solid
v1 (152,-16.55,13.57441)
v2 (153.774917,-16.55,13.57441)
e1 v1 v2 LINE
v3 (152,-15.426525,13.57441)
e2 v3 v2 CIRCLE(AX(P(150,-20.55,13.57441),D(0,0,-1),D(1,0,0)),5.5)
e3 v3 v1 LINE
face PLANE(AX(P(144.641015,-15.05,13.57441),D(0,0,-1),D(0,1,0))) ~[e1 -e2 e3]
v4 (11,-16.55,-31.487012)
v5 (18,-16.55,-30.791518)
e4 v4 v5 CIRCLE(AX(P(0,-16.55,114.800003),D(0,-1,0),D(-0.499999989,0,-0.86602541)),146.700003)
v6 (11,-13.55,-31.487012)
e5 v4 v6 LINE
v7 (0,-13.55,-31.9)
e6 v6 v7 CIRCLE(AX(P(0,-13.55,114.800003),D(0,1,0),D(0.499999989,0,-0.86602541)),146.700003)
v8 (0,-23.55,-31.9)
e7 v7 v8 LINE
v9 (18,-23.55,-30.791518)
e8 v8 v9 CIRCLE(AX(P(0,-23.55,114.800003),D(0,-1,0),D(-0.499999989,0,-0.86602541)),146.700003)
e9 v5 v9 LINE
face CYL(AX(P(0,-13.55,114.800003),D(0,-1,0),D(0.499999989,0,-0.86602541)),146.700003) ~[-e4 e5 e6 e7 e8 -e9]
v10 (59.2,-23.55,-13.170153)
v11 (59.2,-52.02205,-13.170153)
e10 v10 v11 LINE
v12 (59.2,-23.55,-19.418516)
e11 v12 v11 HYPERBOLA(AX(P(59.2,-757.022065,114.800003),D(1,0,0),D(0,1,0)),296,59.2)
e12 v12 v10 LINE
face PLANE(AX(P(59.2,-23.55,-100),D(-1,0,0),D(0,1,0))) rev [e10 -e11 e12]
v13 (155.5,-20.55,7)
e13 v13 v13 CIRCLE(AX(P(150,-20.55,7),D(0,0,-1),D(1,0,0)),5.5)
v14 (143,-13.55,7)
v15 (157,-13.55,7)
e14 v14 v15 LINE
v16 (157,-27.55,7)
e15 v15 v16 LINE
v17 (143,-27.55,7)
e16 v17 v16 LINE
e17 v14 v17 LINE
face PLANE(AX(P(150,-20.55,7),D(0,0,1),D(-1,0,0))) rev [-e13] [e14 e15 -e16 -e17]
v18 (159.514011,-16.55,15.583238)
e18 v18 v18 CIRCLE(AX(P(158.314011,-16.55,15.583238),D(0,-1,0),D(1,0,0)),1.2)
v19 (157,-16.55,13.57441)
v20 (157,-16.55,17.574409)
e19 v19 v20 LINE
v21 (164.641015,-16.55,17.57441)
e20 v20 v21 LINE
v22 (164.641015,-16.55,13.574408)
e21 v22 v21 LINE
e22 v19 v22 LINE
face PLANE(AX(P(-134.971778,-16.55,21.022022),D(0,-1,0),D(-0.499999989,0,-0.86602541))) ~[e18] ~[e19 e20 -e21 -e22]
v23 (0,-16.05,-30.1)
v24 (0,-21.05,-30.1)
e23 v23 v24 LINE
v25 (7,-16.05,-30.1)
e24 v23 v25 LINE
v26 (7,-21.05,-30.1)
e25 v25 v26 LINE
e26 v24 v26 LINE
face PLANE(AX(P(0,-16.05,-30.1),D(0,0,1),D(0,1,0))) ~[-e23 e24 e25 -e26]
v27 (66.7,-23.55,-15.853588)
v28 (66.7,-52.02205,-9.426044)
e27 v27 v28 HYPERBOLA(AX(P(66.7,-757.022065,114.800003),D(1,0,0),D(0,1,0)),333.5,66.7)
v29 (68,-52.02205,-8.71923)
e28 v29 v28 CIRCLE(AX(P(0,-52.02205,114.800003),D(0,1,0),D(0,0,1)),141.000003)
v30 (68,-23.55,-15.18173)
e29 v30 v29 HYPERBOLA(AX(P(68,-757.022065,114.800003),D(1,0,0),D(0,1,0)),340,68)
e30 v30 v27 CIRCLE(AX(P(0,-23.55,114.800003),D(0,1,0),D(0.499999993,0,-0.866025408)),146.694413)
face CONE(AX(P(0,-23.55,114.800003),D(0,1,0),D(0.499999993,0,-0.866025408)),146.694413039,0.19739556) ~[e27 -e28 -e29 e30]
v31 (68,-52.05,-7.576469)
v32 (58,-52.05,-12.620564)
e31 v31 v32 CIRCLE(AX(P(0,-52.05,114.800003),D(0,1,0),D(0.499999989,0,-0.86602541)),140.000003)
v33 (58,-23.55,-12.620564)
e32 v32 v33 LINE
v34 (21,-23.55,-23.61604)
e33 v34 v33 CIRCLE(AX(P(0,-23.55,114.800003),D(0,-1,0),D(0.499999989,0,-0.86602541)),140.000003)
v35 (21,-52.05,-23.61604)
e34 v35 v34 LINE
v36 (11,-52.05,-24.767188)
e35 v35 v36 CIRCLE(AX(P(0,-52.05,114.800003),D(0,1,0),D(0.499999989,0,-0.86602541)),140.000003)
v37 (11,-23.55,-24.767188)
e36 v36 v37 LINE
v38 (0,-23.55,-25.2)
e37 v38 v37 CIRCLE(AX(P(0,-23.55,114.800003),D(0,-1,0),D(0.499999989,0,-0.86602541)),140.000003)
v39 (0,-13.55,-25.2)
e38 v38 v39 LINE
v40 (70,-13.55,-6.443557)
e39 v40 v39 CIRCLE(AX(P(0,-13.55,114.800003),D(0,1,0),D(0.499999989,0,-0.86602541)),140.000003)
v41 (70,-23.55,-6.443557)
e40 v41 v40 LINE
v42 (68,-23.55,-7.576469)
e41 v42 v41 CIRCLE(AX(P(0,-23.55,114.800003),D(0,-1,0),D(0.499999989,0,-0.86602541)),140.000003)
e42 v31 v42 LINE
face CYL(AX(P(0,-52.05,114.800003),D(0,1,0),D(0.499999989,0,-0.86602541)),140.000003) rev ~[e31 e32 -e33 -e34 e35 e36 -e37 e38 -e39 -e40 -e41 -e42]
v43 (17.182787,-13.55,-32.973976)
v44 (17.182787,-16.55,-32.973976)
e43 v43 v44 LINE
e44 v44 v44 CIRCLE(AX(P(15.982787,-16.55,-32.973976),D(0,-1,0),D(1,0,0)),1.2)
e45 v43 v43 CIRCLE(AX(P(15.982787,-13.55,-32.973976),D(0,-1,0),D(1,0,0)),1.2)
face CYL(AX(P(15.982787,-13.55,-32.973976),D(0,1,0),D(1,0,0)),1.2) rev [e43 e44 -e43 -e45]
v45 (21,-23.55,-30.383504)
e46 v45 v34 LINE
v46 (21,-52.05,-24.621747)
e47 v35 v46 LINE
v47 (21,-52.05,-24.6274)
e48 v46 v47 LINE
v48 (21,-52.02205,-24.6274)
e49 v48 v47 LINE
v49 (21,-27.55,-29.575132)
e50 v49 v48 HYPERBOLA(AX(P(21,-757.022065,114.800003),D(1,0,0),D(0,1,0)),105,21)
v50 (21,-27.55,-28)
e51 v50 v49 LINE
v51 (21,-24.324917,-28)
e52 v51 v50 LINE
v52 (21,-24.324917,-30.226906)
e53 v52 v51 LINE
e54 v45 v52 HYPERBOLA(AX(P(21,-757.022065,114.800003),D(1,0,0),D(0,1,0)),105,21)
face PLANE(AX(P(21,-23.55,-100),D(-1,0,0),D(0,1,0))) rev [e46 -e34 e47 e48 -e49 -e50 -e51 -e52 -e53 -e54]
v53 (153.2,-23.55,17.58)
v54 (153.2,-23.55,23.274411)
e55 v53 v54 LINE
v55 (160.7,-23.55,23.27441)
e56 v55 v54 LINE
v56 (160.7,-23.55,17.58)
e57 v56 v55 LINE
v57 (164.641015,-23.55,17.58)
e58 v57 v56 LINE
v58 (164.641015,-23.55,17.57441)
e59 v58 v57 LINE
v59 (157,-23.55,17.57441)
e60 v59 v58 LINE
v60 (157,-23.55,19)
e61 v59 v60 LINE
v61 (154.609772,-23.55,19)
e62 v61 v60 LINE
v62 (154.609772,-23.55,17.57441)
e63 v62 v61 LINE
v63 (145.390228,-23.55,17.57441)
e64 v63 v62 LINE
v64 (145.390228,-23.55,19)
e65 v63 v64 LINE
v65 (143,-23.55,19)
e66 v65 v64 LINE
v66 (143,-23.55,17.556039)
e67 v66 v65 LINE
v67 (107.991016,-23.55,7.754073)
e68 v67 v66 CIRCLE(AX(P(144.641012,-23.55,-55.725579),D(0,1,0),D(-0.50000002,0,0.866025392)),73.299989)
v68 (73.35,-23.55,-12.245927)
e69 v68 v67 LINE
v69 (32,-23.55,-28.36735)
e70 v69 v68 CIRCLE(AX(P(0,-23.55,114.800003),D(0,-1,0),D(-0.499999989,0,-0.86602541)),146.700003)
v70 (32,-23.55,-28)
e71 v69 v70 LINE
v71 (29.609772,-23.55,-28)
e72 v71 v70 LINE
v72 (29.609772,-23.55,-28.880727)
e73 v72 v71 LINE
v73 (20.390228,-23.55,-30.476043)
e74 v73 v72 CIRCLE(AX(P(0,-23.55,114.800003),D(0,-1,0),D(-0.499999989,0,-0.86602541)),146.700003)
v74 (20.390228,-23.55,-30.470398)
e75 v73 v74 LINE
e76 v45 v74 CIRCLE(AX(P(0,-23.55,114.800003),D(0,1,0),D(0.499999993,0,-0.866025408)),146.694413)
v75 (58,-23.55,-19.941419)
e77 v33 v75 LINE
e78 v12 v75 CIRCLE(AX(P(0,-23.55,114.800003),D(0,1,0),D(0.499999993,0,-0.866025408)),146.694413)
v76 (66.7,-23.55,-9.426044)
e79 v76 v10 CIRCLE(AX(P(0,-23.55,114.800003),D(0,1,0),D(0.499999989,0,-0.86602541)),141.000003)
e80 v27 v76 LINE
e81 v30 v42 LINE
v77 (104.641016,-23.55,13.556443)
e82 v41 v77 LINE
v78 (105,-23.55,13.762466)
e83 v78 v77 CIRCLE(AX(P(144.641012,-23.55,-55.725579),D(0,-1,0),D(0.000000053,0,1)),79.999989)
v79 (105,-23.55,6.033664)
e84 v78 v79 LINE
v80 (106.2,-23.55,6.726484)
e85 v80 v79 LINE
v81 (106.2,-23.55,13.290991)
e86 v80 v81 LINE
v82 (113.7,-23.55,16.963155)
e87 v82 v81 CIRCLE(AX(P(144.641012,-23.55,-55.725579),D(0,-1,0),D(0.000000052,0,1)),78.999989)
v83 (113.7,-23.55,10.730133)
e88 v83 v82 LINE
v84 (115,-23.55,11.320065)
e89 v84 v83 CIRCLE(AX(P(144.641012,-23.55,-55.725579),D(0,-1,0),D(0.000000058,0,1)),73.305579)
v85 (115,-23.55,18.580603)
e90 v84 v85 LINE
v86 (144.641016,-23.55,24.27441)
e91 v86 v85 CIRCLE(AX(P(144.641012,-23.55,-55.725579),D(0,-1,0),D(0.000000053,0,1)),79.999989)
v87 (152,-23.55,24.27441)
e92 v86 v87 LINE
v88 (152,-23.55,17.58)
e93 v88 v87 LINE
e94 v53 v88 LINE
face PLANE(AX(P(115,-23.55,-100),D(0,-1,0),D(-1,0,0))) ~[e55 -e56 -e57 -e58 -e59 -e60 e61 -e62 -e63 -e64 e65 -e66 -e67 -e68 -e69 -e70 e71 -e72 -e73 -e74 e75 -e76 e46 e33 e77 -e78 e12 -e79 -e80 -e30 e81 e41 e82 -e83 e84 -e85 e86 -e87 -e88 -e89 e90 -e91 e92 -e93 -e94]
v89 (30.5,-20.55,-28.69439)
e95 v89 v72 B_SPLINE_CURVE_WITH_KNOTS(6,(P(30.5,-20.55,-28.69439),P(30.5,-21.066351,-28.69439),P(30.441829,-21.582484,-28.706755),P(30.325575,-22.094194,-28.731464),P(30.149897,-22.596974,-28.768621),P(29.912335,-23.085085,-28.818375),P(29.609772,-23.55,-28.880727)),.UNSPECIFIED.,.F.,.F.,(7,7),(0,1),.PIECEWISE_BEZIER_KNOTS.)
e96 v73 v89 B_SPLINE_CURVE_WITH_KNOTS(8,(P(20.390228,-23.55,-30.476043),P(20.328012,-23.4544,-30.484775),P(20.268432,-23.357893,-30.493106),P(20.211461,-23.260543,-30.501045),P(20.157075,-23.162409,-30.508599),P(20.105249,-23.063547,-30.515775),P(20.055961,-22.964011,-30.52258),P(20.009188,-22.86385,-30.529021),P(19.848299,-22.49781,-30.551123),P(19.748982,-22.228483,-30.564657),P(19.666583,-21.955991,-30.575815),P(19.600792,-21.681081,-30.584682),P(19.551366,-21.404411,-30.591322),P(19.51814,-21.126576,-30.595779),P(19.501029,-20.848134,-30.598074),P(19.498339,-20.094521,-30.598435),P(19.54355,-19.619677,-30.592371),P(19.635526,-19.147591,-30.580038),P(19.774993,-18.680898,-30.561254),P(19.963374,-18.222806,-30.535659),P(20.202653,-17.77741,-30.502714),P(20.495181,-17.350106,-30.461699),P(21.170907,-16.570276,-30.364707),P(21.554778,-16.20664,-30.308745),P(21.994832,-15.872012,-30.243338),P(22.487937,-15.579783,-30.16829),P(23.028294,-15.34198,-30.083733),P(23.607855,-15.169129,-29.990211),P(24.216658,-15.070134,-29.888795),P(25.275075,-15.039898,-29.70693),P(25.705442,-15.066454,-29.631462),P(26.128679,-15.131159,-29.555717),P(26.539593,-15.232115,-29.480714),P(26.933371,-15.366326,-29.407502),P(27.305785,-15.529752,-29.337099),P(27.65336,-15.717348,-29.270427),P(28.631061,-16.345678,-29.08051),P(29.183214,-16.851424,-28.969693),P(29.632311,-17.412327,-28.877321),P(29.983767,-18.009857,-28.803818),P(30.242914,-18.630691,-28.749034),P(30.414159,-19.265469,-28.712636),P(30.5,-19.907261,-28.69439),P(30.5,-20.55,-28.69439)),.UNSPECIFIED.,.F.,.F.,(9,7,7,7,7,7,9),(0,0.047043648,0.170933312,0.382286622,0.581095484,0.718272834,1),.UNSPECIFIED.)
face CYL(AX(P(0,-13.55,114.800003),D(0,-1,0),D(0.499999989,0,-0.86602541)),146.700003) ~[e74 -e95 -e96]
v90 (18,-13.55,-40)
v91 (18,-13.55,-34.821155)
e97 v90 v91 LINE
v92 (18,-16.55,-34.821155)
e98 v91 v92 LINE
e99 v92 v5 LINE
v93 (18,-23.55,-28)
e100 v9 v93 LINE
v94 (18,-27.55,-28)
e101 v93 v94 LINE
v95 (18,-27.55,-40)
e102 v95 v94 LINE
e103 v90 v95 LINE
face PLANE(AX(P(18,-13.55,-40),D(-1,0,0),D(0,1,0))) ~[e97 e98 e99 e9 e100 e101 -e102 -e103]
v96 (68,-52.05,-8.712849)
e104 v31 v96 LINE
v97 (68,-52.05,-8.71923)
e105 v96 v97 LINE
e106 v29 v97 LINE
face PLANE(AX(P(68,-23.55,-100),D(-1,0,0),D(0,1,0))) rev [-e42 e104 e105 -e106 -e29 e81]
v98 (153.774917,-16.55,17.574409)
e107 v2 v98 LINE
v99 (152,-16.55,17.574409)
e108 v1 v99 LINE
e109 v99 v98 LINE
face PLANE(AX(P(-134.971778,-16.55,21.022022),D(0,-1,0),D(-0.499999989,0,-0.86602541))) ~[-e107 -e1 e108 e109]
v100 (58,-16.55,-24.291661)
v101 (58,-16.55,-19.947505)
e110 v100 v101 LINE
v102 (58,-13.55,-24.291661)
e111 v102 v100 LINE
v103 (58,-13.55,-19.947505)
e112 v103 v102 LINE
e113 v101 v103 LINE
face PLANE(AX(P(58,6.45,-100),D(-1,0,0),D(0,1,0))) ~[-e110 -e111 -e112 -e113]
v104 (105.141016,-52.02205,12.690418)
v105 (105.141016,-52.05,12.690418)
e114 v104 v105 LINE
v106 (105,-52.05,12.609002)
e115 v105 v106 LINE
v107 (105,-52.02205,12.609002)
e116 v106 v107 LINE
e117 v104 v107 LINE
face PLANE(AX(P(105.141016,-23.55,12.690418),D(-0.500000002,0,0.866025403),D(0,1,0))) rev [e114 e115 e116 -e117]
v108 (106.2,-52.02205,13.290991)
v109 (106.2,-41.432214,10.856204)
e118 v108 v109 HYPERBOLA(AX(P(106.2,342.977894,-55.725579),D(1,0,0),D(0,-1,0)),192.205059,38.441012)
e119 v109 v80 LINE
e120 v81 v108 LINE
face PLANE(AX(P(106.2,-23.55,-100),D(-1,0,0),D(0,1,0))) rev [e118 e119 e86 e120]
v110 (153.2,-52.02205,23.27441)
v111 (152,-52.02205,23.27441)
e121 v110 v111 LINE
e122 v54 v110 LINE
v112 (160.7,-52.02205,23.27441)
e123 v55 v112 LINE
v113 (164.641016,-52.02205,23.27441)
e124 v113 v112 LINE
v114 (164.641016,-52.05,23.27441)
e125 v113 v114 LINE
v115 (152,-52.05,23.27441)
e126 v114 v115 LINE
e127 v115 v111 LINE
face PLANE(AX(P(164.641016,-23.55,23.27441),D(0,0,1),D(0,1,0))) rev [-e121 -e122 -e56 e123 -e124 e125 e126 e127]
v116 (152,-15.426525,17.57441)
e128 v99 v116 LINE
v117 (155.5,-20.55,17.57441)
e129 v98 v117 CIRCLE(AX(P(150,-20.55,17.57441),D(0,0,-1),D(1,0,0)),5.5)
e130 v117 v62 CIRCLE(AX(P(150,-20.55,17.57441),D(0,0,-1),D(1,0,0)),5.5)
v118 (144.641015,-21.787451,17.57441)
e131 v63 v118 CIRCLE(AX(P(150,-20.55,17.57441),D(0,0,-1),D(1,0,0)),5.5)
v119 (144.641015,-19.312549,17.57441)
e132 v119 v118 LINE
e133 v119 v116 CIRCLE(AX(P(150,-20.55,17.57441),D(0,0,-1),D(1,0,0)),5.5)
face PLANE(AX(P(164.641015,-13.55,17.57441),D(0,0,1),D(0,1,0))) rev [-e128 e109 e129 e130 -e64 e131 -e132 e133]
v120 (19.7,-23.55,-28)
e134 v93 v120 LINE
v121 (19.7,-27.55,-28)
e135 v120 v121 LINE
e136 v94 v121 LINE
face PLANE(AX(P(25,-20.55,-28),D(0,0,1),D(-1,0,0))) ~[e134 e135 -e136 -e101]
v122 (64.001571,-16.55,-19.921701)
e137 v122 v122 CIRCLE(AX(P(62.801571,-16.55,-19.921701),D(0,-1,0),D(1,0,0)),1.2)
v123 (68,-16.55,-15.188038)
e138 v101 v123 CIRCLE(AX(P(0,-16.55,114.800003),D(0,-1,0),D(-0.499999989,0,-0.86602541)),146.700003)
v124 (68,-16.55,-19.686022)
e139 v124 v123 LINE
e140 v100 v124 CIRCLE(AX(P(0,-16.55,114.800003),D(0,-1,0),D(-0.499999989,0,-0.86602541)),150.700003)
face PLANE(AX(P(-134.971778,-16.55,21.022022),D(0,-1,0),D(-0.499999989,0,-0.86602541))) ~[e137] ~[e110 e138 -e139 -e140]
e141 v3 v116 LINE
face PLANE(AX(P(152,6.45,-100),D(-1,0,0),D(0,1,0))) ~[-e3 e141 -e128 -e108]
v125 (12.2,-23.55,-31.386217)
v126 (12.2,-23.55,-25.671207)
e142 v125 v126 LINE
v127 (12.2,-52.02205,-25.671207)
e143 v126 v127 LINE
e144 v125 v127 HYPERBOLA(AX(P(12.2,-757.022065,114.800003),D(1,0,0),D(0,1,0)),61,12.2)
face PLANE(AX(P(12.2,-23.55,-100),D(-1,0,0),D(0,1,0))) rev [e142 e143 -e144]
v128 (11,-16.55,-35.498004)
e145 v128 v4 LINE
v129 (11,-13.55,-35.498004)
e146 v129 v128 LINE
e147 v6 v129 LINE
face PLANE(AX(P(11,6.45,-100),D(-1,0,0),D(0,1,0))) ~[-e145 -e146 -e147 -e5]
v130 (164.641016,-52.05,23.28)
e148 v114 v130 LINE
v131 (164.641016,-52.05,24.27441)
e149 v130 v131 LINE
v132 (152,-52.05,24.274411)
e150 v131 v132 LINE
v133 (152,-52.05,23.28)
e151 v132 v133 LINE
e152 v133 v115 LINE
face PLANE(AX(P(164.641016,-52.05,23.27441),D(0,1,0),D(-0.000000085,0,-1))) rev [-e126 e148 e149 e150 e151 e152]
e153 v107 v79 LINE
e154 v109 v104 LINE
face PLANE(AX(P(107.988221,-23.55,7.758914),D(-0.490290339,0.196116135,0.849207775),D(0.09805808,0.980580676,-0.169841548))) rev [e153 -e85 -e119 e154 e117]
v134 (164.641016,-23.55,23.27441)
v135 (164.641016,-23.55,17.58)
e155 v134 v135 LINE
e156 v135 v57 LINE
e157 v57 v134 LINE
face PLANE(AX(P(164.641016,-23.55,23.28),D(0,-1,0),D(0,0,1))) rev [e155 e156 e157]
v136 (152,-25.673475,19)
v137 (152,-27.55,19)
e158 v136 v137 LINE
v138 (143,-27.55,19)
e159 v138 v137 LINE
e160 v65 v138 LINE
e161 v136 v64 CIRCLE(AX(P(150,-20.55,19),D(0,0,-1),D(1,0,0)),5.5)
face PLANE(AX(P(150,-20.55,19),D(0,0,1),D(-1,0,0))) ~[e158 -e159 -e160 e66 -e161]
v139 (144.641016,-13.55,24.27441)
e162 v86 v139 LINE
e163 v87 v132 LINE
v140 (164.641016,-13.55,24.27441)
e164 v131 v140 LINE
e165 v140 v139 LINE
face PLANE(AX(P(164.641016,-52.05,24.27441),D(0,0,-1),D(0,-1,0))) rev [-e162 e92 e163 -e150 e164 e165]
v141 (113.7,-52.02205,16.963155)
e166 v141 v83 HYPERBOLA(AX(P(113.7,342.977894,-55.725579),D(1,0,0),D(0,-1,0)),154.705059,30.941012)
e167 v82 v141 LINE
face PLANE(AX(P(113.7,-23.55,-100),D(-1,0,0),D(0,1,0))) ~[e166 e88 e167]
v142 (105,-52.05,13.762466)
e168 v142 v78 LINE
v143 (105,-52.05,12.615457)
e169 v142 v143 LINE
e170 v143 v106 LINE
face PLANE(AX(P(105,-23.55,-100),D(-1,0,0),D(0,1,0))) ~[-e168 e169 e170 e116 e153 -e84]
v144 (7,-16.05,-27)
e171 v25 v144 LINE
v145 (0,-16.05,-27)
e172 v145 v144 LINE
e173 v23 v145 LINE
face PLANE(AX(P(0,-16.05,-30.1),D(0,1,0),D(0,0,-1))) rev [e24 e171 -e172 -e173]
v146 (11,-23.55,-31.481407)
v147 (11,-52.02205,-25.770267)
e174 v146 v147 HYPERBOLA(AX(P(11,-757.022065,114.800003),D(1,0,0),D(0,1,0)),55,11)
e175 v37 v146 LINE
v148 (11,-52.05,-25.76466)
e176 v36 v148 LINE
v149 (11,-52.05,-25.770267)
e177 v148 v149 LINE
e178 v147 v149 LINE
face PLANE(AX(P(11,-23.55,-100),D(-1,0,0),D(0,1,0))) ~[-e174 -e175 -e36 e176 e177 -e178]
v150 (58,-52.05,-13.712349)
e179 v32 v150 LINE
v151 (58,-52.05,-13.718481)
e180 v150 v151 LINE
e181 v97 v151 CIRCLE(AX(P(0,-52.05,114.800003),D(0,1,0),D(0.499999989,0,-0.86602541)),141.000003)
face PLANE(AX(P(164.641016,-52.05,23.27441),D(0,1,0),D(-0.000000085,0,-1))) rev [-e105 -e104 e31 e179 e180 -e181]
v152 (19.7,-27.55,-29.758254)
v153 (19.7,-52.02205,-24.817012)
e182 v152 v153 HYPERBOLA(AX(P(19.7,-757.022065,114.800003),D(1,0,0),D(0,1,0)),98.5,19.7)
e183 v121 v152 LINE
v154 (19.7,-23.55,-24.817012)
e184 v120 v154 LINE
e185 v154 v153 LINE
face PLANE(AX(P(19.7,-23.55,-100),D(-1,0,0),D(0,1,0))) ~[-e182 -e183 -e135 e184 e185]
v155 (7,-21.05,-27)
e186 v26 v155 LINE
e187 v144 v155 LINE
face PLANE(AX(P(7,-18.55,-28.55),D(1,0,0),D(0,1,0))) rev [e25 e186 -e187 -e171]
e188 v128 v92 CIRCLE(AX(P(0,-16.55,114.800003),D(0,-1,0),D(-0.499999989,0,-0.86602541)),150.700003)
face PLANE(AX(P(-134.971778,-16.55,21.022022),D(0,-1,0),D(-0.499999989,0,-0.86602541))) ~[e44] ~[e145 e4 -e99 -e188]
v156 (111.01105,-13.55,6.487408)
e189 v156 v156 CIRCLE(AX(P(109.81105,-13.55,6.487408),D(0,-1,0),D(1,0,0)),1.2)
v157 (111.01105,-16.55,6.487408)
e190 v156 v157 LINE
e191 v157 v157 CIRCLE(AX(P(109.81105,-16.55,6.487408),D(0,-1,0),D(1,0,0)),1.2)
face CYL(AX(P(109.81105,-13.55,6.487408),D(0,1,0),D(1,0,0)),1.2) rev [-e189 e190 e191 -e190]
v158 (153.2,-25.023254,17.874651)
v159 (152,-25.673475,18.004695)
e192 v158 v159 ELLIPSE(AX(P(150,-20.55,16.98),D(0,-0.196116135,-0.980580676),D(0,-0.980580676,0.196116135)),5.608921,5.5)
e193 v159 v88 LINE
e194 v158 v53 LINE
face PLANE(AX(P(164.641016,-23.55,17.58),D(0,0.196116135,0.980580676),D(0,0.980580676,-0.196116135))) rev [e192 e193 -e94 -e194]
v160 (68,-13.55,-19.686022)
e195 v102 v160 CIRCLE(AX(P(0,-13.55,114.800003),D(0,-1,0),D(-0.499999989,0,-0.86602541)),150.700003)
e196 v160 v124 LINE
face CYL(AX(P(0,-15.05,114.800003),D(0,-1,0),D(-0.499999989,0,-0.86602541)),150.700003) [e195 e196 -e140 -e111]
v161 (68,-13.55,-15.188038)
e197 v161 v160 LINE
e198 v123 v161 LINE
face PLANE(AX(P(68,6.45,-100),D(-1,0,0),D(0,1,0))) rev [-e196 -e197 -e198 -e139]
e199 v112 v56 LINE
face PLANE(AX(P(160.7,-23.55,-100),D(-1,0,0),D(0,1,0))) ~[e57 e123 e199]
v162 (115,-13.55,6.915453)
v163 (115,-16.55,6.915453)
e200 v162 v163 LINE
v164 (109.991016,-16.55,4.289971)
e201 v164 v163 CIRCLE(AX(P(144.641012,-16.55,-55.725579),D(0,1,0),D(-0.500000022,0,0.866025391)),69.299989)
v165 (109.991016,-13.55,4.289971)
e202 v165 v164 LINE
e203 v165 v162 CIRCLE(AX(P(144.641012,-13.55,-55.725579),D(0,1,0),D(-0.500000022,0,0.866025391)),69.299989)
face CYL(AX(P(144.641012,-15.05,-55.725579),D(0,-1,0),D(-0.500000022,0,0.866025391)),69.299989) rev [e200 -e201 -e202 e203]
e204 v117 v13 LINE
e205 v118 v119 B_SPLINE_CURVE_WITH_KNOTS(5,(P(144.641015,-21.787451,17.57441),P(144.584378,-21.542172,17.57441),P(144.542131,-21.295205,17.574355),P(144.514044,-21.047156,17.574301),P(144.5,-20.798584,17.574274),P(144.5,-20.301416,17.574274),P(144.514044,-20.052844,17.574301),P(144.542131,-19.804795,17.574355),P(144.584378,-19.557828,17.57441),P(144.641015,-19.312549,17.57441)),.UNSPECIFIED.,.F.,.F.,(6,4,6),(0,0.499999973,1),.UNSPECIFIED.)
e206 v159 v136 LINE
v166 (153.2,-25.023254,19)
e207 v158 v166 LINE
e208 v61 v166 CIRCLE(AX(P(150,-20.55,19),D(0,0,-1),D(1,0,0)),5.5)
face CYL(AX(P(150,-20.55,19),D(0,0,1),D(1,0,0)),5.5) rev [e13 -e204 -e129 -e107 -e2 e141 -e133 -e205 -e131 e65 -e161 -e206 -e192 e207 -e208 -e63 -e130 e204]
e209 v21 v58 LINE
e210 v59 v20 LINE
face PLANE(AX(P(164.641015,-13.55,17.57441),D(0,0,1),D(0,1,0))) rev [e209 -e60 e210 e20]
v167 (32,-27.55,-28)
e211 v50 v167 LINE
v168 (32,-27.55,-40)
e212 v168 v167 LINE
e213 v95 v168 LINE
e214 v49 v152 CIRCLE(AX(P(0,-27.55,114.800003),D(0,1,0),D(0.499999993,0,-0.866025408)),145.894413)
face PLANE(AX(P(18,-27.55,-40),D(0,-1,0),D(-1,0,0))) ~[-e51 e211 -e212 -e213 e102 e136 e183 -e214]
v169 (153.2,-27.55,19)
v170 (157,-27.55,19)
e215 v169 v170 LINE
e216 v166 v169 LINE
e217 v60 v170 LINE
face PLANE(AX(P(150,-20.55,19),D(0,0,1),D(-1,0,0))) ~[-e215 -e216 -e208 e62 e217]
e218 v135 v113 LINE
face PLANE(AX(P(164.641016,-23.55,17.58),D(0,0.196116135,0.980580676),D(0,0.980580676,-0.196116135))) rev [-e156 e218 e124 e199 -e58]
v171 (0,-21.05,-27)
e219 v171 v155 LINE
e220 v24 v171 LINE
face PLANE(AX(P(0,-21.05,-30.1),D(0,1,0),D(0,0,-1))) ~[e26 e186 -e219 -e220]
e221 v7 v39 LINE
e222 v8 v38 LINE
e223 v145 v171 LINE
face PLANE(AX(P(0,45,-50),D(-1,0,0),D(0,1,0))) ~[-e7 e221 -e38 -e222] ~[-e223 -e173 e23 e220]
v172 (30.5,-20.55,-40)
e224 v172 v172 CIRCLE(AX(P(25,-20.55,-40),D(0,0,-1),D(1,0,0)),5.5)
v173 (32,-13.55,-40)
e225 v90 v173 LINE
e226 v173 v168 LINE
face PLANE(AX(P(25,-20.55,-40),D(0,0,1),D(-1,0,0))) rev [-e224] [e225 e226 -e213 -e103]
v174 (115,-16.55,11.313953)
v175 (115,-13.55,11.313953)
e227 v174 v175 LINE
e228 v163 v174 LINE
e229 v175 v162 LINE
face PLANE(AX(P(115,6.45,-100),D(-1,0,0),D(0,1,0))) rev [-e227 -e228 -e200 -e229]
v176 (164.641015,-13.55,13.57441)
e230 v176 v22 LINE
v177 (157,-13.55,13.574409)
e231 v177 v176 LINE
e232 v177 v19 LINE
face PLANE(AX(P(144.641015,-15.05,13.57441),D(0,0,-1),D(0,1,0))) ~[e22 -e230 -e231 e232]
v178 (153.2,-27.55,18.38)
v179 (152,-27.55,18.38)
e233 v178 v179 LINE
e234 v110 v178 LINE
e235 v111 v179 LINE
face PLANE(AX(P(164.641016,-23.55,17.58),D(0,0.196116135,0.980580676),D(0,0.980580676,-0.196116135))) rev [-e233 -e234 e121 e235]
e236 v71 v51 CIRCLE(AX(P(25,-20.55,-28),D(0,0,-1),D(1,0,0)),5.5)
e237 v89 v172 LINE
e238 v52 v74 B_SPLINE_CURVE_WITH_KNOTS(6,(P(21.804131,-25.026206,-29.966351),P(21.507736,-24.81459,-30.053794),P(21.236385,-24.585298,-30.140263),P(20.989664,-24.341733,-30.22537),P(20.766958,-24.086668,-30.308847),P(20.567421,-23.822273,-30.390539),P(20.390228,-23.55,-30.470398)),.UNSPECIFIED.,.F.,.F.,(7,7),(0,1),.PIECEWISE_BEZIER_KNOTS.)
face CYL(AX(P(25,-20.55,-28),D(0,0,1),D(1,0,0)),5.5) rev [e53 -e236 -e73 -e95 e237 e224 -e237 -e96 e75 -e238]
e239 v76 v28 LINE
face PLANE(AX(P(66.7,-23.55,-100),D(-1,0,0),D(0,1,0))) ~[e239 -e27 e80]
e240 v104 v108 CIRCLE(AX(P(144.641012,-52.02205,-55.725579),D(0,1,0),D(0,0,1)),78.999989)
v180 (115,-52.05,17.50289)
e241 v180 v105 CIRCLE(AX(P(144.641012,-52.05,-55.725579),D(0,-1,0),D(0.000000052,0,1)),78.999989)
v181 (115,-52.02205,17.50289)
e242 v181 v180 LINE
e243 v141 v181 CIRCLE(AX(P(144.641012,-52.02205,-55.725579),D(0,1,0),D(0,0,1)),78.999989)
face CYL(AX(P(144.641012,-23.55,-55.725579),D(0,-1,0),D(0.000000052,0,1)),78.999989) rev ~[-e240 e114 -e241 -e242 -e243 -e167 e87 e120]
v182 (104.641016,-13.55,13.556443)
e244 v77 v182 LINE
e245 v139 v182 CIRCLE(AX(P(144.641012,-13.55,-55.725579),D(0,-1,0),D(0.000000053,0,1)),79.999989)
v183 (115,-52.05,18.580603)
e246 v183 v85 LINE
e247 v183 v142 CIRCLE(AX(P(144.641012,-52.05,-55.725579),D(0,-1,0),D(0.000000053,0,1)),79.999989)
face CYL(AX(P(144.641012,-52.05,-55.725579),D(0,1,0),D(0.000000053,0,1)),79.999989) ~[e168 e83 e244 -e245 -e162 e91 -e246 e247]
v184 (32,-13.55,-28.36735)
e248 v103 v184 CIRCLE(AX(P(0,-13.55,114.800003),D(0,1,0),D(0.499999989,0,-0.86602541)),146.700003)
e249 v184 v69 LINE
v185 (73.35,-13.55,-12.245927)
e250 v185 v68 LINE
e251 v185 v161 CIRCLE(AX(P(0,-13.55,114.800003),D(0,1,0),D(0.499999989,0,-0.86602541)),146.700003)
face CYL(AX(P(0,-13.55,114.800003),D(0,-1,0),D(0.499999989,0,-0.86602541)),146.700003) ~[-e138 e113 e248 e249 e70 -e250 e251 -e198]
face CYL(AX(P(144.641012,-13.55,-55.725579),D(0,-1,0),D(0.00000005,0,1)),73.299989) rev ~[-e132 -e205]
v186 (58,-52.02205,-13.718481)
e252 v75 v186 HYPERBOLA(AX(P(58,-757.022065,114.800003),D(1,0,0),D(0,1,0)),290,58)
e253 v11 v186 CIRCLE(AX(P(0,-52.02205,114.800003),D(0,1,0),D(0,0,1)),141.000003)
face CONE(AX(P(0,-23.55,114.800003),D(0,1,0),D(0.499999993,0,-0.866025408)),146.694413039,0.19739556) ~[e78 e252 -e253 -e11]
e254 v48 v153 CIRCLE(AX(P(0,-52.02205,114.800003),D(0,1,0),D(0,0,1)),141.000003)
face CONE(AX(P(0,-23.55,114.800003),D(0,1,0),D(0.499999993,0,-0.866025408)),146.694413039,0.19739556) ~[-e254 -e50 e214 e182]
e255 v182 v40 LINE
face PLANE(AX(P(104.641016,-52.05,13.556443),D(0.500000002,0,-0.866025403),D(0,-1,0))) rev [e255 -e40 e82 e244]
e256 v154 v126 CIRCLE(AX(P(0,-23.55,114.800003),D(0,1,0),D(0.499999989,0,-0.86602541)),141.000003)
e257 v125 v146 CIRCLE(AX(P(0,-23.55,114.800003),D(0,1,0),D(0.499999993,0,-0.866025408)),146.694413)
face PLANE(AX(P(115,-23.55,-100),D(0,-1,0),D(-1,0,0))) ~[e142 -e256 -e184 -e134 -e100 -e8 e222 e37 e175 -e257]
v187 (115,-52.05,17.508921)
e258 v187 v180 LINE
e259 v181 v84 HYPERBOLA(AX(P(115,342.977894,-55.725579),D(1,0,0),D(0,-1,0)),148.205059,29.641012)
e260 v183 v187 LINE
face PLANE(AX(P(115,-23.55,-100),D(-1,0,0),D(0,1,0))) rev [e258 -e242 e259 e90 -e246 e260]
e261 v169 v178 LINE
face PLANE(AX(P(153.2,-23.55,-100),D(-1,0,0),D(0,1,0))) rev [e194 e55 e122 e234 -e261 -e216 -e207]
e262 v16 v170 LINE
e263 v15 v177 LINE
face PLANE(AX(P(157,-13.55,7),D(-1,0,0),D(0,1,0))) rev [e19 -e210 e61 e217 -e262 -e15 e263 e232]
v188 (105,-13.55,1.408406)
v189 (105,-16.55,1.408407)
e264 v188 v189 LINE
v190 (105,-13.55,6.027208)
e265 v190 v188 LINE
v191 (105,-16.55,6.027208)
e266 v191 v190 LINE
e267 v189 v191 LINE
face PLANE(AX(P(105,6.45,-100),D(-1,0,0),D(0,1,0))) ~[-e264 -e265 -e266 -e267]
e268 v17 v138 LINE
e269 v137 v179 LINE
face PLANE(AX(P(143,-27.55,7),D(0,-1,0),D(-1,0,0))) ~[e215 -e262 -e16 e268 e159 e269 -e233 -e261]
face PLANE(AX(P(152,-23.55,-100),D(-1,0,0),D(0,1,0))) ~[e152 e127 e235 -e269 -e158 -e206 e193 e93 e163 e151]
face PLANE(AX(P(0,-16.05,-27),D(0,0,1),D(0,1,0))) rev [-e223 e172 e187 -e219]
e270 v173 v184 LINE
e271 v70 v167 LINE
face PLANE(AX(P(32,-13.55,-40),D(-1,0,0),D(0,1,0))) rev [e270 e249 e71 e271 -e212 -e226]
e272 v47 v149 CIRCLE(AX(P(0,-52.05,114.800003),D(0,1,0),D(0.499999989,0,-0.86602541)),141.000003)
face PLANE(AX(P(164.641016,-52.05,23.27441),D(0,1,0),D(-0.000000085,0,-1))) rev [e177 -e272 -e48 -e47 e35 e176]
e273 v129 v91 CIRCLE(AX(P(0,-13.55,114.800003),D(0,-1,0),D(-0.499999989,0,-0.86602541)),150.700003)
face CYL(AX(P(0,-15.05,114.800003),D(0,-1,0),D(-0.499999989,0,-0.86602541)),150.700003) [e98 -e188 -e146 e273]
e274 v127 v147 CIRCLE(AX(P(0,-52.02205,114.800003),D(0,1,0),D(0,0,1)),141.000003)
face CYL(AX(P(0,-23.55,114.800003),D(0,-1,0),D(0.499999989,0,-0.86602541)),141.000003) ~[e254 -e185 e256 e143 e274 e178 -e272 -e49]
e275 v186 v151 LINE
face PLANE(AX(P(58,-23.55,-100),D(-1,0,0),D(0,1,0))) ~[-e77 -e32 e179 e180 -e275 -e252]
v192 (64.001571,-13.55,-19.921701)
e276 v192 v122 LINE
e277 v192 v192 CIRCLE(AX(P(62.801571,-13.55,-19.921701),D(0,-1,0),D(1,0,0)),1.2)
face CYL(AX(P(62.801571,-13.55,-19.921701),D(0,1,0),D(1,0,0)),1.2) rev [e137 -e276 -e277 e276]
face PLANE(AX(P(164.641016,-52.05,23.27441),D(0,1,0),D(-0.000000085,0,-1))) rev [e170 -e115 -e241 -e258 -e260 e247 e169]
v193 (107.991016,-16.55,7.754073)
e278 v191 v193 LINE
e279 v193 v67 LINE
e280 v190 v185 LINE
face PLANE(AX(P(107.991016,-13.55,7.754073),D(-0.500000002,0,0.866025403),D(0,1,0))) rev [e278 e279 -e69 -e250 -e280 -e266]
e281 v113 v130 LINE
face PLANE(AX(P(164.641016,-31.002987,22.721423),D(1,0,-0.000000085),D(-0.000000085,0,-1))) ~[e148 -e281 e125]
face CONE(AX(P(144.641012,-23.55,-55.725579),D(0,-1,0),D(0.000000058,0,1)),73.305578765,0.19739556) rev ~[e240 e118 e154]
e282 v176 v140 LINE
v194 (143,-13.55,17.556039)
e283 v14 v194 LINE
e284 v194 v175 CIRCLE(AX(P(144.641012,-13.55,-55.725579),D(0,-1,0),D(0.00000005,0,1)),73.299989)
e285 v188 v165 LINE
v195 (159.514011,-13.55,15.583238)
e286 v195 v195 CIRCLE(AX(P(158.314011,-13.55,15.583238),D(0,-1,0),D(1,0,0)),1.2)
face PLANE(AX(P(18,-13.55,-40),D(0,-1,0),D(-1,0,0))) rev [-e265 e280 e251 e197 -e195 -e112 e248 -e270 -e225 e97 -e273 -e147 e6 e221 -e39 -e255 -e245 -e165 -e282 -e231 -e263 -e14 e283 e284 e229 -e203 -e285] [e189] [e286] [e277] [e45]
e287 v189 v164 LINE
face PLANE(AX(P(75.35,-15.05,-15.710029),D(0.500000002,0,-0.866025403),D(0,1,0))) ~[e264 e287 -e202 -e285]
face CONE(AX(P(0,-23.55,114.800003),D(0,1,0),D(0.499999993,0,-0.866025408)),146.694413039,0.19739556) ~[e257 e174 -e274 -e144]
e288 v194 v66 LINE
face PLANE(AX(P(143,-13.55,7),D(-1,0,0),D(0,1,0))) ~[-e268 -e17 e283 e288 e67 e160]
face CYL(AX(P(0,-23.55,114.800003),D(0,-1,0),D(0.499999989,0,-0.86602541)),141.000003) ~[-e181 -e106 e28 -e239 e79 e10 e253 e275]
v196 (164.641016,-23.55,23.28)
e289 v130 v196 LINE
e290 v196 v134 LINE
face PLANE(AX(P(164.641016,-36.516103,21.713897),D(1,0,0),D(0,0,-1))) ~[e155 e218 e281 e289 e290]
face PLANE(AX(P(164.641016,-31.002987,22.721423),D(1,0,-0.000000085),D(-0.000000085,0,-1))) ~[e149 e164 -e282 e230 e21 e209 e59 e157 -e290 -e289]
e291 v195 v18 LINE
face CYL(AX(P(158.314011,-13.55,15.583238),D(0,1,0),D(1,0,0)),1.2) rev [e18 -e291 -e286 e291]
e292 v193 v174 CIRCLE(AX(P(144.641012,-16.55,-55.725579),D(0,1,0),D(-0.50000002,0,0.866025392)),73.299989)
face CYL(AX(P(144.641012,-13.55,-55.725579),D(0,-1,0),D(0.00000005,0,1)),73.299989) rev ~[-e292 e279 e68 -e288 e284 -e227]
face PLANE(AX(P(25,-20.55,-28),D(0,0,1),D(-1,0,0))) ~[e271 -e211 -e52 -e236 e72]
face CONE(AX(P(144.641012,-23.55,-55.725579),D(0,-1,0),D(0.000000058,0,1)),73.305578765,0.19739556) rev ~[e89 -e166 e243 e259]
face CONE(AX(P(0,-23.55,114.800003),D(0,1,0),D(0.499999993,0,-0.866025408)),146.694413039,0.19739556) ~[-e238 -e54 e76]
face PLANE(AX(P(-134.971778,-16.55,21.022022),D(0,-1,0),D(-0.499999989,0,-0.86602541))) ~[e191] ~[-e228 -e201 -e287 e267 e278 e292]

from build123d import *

# Parameters (mm, degrees)
SKETCH038_W            = 5
SKETCH038_H            = 3.1
EXTRUDE001_DEPTH       = 7
BOX010_W               = 200
BOX010_H               = 100
BOX010_DEPTH           = 100
BOX008_W               = 20
BOX008_H               = 20
BOX008_DEPTH           = 20
BOX008_PLACEMENT_ANGLE = 30
BOX011_W               = 14
BOX011_H               = 14
BOX011_DEPTH           = 20
SKETCH039_R            = 5.5
POCKET007_DEPTH        = 20.001
BOX014_W               = 7.5
BOX014_H               = 60
BOX014_DEPTH           = 200
ARRAY002_X_COUNT       = 7
ARRAY002_X_PITCH       = 47
BOX006_W               = 37
BOX006_H               = 60
BOX006_DEPTH           = 200
ARRAY_X_COUNT          = 6
ARRAY_X_PITCH          = 47
BOX012_W               = 14
BOX012_H               = 14
BOX012_DEPTH           = 12
SKETCH032_R            = 5.5
POCKET009_DEPTH        = 12.001
BOX013_W               = 14
BOX013_H               = 14
BOX013_DEPTH           = 12
SKETCH034_R            = 5.5
POCKET008_DEPTH        = 12.001
BOX009_W               = 37
BOX009_H               = 60
BOX009_DEPTH           = 200
ARRAY001_X_COUNT       = 6
ARRAY001_X_PITCH       = 47
SKETCH035_W            = 3
SKETCH035_H            = 4
SKETCH036_R            = 1.2
POCKET006_DEPTH        = 3.001


with BuildPart() as extrude001:
    # Sketch038 → Extrude001 (new body)
    with BuildSketch(Plane.YZ):
        with Locations((13.55, -28.55)):
            Rectangle(SKETCH038_W, SKETCH038_H)
    extrude(amount=EXTRUDE001_DEPTH)


with BuildPart() as bigleft:
    # Box010 → Box010 (new body)
    with BuildSketch(Plane(origin=(0, -50, -50), x_dir=(1, 0, 0), z_dir=(0, 0, 1))):
        with Locations((100, 50)):
            Rectangle(BOX010_W, BOX010_H)
    extrude(amount=BOX010_DEPTH)


with BuildPart() as pillar_cut_cube_l:
    # Box008 → Box008 (new body)
    with BuildSketch(Plane.XY):
        with Locations((10, 10)):
            Rectangle(BOX008_W, BOX008_H)
    extrude(amount=BOX008_DEPTH)


with BuildPart() as pillar_cut_cube_l_1:
    # Box008 placement: moved
    add(pillar_cut_cube_l.part.moved(Location((-127.001, 5, 20.4905))).rotate(Axis((-127.001, 5, 20.4905), (0, 1, 0)), BOX008_PLACEMENT_ANGLE))


with BuildPart() as cut011:
    # Box011 → Box011 (new body)
    with BuildSketch(Plane(origin=(-125, 8.55, 0), x_dir=(1, 0, 0), z_dir=(0, 0, 1))):
        with Locations((7, 7)):
            Rectangle(BOX011_W, BOX011_H)
    extrude(amount=BOX011_DEPTH)

    # Sketch039 → Pocket007 (cut, through all)
    with BuildSketch(Plane(origin=(-125, 8.55, 20), x_dir=(1, 0, 0), z_dir=(0, 0, 1))):
        with Locations((7, 7)):
            Circle(SKETCH039_R)
    extrude(amount=-POCKET007_DEPTH, mode=Mode.SUBTRACT)

    # Cut011: cut pillar_cut_cube_l
    add(pillar_cut_cube_l_1.part, mode=Mode.SUBTRACT)


with BuildPart() as array002:
    # Box014 → Box014 (new body)
    with BuildSketch(Plane(origin=(-128.8, 18.55, -100), x_dir=(1, 0, 0), z_dir=(0, 0, 1))):
        with Locations((3.75, 30)):
            Rectangle(BOX014_W, BOX014_H)
    extrude(amount=BOX014_DEPTH)

    # Array002 X: Array002 ×7


with BuildPart() as array002_1:
    add(array002.part)
    with Locations(*[(i * ARRAY002_X_PITCH, 0, 0) for i in range(1, ARRAY002_X_COUNT)]):
        add(array002.part)


with BuildPart() as rail_cut_cube_array_b:
    # Box006 → Box006 (new body)
    with BuildSketch(Plane(origin=(-120, 18.55, -100), x_dir=(1, 0, 0), z_dir=(0, 0, 1))):
        with Locations((18.5, 30)):
            Rectangle(BOX006_W, BOX006_H)
    extrude(amount=BOX006_DEPTH)

    # Array X: rail_cut_cube_array_b ×6


with BuildPart() as rail_cut_cube_array_b_1:
    add(rail_cut_cube_array_b.part)
    with Locations(*[(i * ARRAY_X_PITCH, 0, 0) for i in range(1, ARRAY_X_COUNT)]):
        add(rail_cut_cube_array_b.part)


with BuildPart() as cut013:
    # Sweep002: sweep along a path in Sketch028
    with BuildLine(Plane.XZ) as sweep002_path:
        Line((164.641016, 24.27441), (144.641016, 24.27441))
        ThreePointArc((144.641016, 24.27441), (123.935493, 21.548477), (104.641016, 13.556443))
        Line((104.641016, 13.556443), (70, -6.443557))
        ThreePointArc((70, -6.443557), (0, -25.2), (-70, -6.443557))
        Line((-70, -6.443557), (-130.621778, 28.556443))
    # Sketch043 → Sweep002 (sweep)
    with BuildSketch(Plane.YZ.offset(164.641016)):
        Polygon((18.55, 17.58), (47.05, 23.28), (18.55, 23.28), align=None)
    sweep(path=sweep002_path.line)

    # Cut012: cut rail_cut_cube_array_b
    add(rail_cut_cube_array_b_1.part, mode=Mode.SUBTRACT)

    # Cut013: cut Array002
    add(array002_1.part, mode=Mode.SUBTRACT)


with BuildPart() as rail_cut_b:
    # Sweep: sweep along a path in Sketch028
    with BuildLine(Plane.XZ) as sweep_path:
        Line((164.641016, 24.27441), (144.641016, 24.27441))
        ThreePointArc((144.641016, 24.27441), (123.935493, 21.548477), (104.641016, 13.556443))
        Line((104.641016, 13.556443), (70, -6.443557))
        ThreePointArc((70, -6.443557), (0, -25.2), (-70, -6.443557))
        Line((-70, -6.443557), (-130.621778, 28.556443))
    # Sketch029 → Sweep (sweep)
    with BuildSketch(Plane.YZ):
        Polygon((-19.25, -25.2), (-19.25, -31.9), (-9.25, -31.9), (-9.25, -26.2), (19.25, -26.2), (19.25, -25.2), align=None)
    sweep(path=sweep_path.line)


with BuildPart() as rail_cut_b_1:
    # Sweep placement: moved
    add(rail_cut_b.part.moved(Location((0, 27.8, 0))))

    # Cut007: cut rail_cut_cube_array_b
    add(rail_cut_cube_array_b_1.part, mode=Mode.SUBTRACT)


with BuildPart() as pillar_hollow_r:
    # Box012 → Box012 (new body)
    with BuildSketch(Plane(origin=(143, 8.55, 7), x_dir=(1, 0, 0), z_dir=(0, 0, 1))):
        with Locations((7, 7)):
            Rectangle(BOX012_W, BOX012_H)
    extrude(amount=BOX012_DEPTH)

    # Sketch032 → Pocket009 (cut, through all)
    with BuildSketch(Plane(origin=(143, 8.55, 19), x_dir=(1, 0, 0), z_dir=(0, 0, 1))):
        with Locations((7, 7)):
            Circle(SKETCH032_R)
    extrude(amount=-POCKET009_DEPTH, mode=Mode.SUBTRACT)


with BuildPart() as pillar_hollow_m:
    # Box013 → Box013 (new body)
    with BuildSketch(Plane(origin=(18, 8.55, -40), x_dir=(1, 0, 0), z_dir=(0, 0, 1))):
        with Locations((7, 7)):
            Rectangle(BOX013_W, BOX013_H)
    extrude(amount=BOX013_DEPTH)

    # Sketch034 → Pocket008 (cut, through all)
    with BuildSketch(Plane(origin=(18, 8.55, -28), x_dir=(1, 0, 0), z_dir=(0, 0, 1))):
        with Locations((7, 7)):
            Circle(SKETCH034_R)
    extrude(amount=-POCKET008_DEPTH, mode=Mode.SUBTRACT)


with BuildPart() as mount_cube_array_b:
    # Box009 → Box009 (new body)
    with BuildSketch(Plane(origin=(-120, 18.55, -100), x_dir=(1, 0, 0), z_dir=(0, 0, 1))):
        with Locations((18.5, 30)):
            Rectangle(BOX009_W, BOX009_H)
    extrude(amount=BOX009_DEPTH)

    # Array001 X: mount_cube_array_b ×6


with BuildPart() as mount_cube_array_b_1:
    add(mount_cube_array_b.part)
    with Locations(*[(i * ARRAY001_X_PITCH, 0, 0) for i in range(1, ARRAY001_X_COUNT)]):
        add(mount_cube_array_b.part)


with BuildPart() as mount_cube_array_b_2:
    # Array001 placement: moved
    add(mount_cube_array_b_1.part.moved(Location((0, -30, 0))))


with BuildPart() as clone_of_cut015:
    # Sweep001: sweep along a path in Sketch028
    with BuildLine(Plane.XZ) as sweep001_path:
        Line((-130.621778, 28.556443), (-70, -6.443557))
        ThreePointArc((-70, -6.443557), (0, -25.2), (70, -6.443557))
        Line((70, -6.443557), (104.641016, 13.556443))
        ThreePointArc((104.641016, 13.556443), (123.935493, 21.548477), (144.641016, 24.27441))
        Line((144.641016, 24.27441), (164.641016, 24.27441))
    # Sketch035 → Sweep001 (sweep)
    with BuildSketch(Plane.YZ):
        with Locations((-17.75, -33.9)):
            Rectangle(SKETCH035_W, SKETCH035_H)
    sweep(path=sweep001_path.line)


with BuildPart() as clone_of_cut015_1:
    # Sweep001 placement: moved
    add(clone_of_cut015.part.moved(Location((0, 27.8, 0))))

    # Sketch036 → Pocket006 (cut, through all)
    with BuildSketch(Plane.XZ.offset(-8.55)):
        with Locations((-127.361382, 16.612761)):
            Circle(SKETCH036_R)
        with Locations((-78.25576, -11.759304)):
            Circle(SKETCH036_R)
        with Locations((-31.170284, -30.615305)):
            Circle(SKETCH036_R)
        with Locations((15.982787, -32.973976)):
            Circle(SKETCH036_R)
        with Locations((62.801571, -19.921701)):
            Circle(SKETCH036_R)
        with Locations((109.81105, 6.487408)):
            Circle(SKETCH036_R)
        with Locations((158.314011, 15.583238)):
            Circle(SKETCH036_R)
    extrude(amount=-POCKET006_DEPTH, mode=Mode.SUBTRACT)

    # Cut010: cut mount_cube_array_b
    add(mount_cube_array_b_2.part, mode=Mode.SUBTRACT)

    # Fusion003: union Cut011, Cut013, rail_cut_b, pillar_hollow_r, pillar_hollow_m
    add(cut011.part)
    add(cut013.part)
    add(rail_cut_b_1.part)
    add(pillar_hollow_r.part)
    add(pillar_hollow_m.part)

    # Common: intersect bigleft
    add(bigleft.part, mode=Mode.INTERSECT)

    # Cut015: cut Extrude001
    add(extrude001.part, mode=Mode.SUBTRACT)


with BuildPart() as rail_fr:
    # Part__Mirroring001: instance of Clone of Cut015
    add(clone_of_cut015_1.part.mirror(Plane(origin=(82.320511, 0, -4.567103), x_dir=(1, 0, 0), z_dir=(0, 1, 0))))


with BuildPart() as rail_fr_1:
    # Part__Mirroring001 placement: moved
    add(rail_fr.part.moved(Location((0, -5, 0))))


solid = rail_fr_1.part
